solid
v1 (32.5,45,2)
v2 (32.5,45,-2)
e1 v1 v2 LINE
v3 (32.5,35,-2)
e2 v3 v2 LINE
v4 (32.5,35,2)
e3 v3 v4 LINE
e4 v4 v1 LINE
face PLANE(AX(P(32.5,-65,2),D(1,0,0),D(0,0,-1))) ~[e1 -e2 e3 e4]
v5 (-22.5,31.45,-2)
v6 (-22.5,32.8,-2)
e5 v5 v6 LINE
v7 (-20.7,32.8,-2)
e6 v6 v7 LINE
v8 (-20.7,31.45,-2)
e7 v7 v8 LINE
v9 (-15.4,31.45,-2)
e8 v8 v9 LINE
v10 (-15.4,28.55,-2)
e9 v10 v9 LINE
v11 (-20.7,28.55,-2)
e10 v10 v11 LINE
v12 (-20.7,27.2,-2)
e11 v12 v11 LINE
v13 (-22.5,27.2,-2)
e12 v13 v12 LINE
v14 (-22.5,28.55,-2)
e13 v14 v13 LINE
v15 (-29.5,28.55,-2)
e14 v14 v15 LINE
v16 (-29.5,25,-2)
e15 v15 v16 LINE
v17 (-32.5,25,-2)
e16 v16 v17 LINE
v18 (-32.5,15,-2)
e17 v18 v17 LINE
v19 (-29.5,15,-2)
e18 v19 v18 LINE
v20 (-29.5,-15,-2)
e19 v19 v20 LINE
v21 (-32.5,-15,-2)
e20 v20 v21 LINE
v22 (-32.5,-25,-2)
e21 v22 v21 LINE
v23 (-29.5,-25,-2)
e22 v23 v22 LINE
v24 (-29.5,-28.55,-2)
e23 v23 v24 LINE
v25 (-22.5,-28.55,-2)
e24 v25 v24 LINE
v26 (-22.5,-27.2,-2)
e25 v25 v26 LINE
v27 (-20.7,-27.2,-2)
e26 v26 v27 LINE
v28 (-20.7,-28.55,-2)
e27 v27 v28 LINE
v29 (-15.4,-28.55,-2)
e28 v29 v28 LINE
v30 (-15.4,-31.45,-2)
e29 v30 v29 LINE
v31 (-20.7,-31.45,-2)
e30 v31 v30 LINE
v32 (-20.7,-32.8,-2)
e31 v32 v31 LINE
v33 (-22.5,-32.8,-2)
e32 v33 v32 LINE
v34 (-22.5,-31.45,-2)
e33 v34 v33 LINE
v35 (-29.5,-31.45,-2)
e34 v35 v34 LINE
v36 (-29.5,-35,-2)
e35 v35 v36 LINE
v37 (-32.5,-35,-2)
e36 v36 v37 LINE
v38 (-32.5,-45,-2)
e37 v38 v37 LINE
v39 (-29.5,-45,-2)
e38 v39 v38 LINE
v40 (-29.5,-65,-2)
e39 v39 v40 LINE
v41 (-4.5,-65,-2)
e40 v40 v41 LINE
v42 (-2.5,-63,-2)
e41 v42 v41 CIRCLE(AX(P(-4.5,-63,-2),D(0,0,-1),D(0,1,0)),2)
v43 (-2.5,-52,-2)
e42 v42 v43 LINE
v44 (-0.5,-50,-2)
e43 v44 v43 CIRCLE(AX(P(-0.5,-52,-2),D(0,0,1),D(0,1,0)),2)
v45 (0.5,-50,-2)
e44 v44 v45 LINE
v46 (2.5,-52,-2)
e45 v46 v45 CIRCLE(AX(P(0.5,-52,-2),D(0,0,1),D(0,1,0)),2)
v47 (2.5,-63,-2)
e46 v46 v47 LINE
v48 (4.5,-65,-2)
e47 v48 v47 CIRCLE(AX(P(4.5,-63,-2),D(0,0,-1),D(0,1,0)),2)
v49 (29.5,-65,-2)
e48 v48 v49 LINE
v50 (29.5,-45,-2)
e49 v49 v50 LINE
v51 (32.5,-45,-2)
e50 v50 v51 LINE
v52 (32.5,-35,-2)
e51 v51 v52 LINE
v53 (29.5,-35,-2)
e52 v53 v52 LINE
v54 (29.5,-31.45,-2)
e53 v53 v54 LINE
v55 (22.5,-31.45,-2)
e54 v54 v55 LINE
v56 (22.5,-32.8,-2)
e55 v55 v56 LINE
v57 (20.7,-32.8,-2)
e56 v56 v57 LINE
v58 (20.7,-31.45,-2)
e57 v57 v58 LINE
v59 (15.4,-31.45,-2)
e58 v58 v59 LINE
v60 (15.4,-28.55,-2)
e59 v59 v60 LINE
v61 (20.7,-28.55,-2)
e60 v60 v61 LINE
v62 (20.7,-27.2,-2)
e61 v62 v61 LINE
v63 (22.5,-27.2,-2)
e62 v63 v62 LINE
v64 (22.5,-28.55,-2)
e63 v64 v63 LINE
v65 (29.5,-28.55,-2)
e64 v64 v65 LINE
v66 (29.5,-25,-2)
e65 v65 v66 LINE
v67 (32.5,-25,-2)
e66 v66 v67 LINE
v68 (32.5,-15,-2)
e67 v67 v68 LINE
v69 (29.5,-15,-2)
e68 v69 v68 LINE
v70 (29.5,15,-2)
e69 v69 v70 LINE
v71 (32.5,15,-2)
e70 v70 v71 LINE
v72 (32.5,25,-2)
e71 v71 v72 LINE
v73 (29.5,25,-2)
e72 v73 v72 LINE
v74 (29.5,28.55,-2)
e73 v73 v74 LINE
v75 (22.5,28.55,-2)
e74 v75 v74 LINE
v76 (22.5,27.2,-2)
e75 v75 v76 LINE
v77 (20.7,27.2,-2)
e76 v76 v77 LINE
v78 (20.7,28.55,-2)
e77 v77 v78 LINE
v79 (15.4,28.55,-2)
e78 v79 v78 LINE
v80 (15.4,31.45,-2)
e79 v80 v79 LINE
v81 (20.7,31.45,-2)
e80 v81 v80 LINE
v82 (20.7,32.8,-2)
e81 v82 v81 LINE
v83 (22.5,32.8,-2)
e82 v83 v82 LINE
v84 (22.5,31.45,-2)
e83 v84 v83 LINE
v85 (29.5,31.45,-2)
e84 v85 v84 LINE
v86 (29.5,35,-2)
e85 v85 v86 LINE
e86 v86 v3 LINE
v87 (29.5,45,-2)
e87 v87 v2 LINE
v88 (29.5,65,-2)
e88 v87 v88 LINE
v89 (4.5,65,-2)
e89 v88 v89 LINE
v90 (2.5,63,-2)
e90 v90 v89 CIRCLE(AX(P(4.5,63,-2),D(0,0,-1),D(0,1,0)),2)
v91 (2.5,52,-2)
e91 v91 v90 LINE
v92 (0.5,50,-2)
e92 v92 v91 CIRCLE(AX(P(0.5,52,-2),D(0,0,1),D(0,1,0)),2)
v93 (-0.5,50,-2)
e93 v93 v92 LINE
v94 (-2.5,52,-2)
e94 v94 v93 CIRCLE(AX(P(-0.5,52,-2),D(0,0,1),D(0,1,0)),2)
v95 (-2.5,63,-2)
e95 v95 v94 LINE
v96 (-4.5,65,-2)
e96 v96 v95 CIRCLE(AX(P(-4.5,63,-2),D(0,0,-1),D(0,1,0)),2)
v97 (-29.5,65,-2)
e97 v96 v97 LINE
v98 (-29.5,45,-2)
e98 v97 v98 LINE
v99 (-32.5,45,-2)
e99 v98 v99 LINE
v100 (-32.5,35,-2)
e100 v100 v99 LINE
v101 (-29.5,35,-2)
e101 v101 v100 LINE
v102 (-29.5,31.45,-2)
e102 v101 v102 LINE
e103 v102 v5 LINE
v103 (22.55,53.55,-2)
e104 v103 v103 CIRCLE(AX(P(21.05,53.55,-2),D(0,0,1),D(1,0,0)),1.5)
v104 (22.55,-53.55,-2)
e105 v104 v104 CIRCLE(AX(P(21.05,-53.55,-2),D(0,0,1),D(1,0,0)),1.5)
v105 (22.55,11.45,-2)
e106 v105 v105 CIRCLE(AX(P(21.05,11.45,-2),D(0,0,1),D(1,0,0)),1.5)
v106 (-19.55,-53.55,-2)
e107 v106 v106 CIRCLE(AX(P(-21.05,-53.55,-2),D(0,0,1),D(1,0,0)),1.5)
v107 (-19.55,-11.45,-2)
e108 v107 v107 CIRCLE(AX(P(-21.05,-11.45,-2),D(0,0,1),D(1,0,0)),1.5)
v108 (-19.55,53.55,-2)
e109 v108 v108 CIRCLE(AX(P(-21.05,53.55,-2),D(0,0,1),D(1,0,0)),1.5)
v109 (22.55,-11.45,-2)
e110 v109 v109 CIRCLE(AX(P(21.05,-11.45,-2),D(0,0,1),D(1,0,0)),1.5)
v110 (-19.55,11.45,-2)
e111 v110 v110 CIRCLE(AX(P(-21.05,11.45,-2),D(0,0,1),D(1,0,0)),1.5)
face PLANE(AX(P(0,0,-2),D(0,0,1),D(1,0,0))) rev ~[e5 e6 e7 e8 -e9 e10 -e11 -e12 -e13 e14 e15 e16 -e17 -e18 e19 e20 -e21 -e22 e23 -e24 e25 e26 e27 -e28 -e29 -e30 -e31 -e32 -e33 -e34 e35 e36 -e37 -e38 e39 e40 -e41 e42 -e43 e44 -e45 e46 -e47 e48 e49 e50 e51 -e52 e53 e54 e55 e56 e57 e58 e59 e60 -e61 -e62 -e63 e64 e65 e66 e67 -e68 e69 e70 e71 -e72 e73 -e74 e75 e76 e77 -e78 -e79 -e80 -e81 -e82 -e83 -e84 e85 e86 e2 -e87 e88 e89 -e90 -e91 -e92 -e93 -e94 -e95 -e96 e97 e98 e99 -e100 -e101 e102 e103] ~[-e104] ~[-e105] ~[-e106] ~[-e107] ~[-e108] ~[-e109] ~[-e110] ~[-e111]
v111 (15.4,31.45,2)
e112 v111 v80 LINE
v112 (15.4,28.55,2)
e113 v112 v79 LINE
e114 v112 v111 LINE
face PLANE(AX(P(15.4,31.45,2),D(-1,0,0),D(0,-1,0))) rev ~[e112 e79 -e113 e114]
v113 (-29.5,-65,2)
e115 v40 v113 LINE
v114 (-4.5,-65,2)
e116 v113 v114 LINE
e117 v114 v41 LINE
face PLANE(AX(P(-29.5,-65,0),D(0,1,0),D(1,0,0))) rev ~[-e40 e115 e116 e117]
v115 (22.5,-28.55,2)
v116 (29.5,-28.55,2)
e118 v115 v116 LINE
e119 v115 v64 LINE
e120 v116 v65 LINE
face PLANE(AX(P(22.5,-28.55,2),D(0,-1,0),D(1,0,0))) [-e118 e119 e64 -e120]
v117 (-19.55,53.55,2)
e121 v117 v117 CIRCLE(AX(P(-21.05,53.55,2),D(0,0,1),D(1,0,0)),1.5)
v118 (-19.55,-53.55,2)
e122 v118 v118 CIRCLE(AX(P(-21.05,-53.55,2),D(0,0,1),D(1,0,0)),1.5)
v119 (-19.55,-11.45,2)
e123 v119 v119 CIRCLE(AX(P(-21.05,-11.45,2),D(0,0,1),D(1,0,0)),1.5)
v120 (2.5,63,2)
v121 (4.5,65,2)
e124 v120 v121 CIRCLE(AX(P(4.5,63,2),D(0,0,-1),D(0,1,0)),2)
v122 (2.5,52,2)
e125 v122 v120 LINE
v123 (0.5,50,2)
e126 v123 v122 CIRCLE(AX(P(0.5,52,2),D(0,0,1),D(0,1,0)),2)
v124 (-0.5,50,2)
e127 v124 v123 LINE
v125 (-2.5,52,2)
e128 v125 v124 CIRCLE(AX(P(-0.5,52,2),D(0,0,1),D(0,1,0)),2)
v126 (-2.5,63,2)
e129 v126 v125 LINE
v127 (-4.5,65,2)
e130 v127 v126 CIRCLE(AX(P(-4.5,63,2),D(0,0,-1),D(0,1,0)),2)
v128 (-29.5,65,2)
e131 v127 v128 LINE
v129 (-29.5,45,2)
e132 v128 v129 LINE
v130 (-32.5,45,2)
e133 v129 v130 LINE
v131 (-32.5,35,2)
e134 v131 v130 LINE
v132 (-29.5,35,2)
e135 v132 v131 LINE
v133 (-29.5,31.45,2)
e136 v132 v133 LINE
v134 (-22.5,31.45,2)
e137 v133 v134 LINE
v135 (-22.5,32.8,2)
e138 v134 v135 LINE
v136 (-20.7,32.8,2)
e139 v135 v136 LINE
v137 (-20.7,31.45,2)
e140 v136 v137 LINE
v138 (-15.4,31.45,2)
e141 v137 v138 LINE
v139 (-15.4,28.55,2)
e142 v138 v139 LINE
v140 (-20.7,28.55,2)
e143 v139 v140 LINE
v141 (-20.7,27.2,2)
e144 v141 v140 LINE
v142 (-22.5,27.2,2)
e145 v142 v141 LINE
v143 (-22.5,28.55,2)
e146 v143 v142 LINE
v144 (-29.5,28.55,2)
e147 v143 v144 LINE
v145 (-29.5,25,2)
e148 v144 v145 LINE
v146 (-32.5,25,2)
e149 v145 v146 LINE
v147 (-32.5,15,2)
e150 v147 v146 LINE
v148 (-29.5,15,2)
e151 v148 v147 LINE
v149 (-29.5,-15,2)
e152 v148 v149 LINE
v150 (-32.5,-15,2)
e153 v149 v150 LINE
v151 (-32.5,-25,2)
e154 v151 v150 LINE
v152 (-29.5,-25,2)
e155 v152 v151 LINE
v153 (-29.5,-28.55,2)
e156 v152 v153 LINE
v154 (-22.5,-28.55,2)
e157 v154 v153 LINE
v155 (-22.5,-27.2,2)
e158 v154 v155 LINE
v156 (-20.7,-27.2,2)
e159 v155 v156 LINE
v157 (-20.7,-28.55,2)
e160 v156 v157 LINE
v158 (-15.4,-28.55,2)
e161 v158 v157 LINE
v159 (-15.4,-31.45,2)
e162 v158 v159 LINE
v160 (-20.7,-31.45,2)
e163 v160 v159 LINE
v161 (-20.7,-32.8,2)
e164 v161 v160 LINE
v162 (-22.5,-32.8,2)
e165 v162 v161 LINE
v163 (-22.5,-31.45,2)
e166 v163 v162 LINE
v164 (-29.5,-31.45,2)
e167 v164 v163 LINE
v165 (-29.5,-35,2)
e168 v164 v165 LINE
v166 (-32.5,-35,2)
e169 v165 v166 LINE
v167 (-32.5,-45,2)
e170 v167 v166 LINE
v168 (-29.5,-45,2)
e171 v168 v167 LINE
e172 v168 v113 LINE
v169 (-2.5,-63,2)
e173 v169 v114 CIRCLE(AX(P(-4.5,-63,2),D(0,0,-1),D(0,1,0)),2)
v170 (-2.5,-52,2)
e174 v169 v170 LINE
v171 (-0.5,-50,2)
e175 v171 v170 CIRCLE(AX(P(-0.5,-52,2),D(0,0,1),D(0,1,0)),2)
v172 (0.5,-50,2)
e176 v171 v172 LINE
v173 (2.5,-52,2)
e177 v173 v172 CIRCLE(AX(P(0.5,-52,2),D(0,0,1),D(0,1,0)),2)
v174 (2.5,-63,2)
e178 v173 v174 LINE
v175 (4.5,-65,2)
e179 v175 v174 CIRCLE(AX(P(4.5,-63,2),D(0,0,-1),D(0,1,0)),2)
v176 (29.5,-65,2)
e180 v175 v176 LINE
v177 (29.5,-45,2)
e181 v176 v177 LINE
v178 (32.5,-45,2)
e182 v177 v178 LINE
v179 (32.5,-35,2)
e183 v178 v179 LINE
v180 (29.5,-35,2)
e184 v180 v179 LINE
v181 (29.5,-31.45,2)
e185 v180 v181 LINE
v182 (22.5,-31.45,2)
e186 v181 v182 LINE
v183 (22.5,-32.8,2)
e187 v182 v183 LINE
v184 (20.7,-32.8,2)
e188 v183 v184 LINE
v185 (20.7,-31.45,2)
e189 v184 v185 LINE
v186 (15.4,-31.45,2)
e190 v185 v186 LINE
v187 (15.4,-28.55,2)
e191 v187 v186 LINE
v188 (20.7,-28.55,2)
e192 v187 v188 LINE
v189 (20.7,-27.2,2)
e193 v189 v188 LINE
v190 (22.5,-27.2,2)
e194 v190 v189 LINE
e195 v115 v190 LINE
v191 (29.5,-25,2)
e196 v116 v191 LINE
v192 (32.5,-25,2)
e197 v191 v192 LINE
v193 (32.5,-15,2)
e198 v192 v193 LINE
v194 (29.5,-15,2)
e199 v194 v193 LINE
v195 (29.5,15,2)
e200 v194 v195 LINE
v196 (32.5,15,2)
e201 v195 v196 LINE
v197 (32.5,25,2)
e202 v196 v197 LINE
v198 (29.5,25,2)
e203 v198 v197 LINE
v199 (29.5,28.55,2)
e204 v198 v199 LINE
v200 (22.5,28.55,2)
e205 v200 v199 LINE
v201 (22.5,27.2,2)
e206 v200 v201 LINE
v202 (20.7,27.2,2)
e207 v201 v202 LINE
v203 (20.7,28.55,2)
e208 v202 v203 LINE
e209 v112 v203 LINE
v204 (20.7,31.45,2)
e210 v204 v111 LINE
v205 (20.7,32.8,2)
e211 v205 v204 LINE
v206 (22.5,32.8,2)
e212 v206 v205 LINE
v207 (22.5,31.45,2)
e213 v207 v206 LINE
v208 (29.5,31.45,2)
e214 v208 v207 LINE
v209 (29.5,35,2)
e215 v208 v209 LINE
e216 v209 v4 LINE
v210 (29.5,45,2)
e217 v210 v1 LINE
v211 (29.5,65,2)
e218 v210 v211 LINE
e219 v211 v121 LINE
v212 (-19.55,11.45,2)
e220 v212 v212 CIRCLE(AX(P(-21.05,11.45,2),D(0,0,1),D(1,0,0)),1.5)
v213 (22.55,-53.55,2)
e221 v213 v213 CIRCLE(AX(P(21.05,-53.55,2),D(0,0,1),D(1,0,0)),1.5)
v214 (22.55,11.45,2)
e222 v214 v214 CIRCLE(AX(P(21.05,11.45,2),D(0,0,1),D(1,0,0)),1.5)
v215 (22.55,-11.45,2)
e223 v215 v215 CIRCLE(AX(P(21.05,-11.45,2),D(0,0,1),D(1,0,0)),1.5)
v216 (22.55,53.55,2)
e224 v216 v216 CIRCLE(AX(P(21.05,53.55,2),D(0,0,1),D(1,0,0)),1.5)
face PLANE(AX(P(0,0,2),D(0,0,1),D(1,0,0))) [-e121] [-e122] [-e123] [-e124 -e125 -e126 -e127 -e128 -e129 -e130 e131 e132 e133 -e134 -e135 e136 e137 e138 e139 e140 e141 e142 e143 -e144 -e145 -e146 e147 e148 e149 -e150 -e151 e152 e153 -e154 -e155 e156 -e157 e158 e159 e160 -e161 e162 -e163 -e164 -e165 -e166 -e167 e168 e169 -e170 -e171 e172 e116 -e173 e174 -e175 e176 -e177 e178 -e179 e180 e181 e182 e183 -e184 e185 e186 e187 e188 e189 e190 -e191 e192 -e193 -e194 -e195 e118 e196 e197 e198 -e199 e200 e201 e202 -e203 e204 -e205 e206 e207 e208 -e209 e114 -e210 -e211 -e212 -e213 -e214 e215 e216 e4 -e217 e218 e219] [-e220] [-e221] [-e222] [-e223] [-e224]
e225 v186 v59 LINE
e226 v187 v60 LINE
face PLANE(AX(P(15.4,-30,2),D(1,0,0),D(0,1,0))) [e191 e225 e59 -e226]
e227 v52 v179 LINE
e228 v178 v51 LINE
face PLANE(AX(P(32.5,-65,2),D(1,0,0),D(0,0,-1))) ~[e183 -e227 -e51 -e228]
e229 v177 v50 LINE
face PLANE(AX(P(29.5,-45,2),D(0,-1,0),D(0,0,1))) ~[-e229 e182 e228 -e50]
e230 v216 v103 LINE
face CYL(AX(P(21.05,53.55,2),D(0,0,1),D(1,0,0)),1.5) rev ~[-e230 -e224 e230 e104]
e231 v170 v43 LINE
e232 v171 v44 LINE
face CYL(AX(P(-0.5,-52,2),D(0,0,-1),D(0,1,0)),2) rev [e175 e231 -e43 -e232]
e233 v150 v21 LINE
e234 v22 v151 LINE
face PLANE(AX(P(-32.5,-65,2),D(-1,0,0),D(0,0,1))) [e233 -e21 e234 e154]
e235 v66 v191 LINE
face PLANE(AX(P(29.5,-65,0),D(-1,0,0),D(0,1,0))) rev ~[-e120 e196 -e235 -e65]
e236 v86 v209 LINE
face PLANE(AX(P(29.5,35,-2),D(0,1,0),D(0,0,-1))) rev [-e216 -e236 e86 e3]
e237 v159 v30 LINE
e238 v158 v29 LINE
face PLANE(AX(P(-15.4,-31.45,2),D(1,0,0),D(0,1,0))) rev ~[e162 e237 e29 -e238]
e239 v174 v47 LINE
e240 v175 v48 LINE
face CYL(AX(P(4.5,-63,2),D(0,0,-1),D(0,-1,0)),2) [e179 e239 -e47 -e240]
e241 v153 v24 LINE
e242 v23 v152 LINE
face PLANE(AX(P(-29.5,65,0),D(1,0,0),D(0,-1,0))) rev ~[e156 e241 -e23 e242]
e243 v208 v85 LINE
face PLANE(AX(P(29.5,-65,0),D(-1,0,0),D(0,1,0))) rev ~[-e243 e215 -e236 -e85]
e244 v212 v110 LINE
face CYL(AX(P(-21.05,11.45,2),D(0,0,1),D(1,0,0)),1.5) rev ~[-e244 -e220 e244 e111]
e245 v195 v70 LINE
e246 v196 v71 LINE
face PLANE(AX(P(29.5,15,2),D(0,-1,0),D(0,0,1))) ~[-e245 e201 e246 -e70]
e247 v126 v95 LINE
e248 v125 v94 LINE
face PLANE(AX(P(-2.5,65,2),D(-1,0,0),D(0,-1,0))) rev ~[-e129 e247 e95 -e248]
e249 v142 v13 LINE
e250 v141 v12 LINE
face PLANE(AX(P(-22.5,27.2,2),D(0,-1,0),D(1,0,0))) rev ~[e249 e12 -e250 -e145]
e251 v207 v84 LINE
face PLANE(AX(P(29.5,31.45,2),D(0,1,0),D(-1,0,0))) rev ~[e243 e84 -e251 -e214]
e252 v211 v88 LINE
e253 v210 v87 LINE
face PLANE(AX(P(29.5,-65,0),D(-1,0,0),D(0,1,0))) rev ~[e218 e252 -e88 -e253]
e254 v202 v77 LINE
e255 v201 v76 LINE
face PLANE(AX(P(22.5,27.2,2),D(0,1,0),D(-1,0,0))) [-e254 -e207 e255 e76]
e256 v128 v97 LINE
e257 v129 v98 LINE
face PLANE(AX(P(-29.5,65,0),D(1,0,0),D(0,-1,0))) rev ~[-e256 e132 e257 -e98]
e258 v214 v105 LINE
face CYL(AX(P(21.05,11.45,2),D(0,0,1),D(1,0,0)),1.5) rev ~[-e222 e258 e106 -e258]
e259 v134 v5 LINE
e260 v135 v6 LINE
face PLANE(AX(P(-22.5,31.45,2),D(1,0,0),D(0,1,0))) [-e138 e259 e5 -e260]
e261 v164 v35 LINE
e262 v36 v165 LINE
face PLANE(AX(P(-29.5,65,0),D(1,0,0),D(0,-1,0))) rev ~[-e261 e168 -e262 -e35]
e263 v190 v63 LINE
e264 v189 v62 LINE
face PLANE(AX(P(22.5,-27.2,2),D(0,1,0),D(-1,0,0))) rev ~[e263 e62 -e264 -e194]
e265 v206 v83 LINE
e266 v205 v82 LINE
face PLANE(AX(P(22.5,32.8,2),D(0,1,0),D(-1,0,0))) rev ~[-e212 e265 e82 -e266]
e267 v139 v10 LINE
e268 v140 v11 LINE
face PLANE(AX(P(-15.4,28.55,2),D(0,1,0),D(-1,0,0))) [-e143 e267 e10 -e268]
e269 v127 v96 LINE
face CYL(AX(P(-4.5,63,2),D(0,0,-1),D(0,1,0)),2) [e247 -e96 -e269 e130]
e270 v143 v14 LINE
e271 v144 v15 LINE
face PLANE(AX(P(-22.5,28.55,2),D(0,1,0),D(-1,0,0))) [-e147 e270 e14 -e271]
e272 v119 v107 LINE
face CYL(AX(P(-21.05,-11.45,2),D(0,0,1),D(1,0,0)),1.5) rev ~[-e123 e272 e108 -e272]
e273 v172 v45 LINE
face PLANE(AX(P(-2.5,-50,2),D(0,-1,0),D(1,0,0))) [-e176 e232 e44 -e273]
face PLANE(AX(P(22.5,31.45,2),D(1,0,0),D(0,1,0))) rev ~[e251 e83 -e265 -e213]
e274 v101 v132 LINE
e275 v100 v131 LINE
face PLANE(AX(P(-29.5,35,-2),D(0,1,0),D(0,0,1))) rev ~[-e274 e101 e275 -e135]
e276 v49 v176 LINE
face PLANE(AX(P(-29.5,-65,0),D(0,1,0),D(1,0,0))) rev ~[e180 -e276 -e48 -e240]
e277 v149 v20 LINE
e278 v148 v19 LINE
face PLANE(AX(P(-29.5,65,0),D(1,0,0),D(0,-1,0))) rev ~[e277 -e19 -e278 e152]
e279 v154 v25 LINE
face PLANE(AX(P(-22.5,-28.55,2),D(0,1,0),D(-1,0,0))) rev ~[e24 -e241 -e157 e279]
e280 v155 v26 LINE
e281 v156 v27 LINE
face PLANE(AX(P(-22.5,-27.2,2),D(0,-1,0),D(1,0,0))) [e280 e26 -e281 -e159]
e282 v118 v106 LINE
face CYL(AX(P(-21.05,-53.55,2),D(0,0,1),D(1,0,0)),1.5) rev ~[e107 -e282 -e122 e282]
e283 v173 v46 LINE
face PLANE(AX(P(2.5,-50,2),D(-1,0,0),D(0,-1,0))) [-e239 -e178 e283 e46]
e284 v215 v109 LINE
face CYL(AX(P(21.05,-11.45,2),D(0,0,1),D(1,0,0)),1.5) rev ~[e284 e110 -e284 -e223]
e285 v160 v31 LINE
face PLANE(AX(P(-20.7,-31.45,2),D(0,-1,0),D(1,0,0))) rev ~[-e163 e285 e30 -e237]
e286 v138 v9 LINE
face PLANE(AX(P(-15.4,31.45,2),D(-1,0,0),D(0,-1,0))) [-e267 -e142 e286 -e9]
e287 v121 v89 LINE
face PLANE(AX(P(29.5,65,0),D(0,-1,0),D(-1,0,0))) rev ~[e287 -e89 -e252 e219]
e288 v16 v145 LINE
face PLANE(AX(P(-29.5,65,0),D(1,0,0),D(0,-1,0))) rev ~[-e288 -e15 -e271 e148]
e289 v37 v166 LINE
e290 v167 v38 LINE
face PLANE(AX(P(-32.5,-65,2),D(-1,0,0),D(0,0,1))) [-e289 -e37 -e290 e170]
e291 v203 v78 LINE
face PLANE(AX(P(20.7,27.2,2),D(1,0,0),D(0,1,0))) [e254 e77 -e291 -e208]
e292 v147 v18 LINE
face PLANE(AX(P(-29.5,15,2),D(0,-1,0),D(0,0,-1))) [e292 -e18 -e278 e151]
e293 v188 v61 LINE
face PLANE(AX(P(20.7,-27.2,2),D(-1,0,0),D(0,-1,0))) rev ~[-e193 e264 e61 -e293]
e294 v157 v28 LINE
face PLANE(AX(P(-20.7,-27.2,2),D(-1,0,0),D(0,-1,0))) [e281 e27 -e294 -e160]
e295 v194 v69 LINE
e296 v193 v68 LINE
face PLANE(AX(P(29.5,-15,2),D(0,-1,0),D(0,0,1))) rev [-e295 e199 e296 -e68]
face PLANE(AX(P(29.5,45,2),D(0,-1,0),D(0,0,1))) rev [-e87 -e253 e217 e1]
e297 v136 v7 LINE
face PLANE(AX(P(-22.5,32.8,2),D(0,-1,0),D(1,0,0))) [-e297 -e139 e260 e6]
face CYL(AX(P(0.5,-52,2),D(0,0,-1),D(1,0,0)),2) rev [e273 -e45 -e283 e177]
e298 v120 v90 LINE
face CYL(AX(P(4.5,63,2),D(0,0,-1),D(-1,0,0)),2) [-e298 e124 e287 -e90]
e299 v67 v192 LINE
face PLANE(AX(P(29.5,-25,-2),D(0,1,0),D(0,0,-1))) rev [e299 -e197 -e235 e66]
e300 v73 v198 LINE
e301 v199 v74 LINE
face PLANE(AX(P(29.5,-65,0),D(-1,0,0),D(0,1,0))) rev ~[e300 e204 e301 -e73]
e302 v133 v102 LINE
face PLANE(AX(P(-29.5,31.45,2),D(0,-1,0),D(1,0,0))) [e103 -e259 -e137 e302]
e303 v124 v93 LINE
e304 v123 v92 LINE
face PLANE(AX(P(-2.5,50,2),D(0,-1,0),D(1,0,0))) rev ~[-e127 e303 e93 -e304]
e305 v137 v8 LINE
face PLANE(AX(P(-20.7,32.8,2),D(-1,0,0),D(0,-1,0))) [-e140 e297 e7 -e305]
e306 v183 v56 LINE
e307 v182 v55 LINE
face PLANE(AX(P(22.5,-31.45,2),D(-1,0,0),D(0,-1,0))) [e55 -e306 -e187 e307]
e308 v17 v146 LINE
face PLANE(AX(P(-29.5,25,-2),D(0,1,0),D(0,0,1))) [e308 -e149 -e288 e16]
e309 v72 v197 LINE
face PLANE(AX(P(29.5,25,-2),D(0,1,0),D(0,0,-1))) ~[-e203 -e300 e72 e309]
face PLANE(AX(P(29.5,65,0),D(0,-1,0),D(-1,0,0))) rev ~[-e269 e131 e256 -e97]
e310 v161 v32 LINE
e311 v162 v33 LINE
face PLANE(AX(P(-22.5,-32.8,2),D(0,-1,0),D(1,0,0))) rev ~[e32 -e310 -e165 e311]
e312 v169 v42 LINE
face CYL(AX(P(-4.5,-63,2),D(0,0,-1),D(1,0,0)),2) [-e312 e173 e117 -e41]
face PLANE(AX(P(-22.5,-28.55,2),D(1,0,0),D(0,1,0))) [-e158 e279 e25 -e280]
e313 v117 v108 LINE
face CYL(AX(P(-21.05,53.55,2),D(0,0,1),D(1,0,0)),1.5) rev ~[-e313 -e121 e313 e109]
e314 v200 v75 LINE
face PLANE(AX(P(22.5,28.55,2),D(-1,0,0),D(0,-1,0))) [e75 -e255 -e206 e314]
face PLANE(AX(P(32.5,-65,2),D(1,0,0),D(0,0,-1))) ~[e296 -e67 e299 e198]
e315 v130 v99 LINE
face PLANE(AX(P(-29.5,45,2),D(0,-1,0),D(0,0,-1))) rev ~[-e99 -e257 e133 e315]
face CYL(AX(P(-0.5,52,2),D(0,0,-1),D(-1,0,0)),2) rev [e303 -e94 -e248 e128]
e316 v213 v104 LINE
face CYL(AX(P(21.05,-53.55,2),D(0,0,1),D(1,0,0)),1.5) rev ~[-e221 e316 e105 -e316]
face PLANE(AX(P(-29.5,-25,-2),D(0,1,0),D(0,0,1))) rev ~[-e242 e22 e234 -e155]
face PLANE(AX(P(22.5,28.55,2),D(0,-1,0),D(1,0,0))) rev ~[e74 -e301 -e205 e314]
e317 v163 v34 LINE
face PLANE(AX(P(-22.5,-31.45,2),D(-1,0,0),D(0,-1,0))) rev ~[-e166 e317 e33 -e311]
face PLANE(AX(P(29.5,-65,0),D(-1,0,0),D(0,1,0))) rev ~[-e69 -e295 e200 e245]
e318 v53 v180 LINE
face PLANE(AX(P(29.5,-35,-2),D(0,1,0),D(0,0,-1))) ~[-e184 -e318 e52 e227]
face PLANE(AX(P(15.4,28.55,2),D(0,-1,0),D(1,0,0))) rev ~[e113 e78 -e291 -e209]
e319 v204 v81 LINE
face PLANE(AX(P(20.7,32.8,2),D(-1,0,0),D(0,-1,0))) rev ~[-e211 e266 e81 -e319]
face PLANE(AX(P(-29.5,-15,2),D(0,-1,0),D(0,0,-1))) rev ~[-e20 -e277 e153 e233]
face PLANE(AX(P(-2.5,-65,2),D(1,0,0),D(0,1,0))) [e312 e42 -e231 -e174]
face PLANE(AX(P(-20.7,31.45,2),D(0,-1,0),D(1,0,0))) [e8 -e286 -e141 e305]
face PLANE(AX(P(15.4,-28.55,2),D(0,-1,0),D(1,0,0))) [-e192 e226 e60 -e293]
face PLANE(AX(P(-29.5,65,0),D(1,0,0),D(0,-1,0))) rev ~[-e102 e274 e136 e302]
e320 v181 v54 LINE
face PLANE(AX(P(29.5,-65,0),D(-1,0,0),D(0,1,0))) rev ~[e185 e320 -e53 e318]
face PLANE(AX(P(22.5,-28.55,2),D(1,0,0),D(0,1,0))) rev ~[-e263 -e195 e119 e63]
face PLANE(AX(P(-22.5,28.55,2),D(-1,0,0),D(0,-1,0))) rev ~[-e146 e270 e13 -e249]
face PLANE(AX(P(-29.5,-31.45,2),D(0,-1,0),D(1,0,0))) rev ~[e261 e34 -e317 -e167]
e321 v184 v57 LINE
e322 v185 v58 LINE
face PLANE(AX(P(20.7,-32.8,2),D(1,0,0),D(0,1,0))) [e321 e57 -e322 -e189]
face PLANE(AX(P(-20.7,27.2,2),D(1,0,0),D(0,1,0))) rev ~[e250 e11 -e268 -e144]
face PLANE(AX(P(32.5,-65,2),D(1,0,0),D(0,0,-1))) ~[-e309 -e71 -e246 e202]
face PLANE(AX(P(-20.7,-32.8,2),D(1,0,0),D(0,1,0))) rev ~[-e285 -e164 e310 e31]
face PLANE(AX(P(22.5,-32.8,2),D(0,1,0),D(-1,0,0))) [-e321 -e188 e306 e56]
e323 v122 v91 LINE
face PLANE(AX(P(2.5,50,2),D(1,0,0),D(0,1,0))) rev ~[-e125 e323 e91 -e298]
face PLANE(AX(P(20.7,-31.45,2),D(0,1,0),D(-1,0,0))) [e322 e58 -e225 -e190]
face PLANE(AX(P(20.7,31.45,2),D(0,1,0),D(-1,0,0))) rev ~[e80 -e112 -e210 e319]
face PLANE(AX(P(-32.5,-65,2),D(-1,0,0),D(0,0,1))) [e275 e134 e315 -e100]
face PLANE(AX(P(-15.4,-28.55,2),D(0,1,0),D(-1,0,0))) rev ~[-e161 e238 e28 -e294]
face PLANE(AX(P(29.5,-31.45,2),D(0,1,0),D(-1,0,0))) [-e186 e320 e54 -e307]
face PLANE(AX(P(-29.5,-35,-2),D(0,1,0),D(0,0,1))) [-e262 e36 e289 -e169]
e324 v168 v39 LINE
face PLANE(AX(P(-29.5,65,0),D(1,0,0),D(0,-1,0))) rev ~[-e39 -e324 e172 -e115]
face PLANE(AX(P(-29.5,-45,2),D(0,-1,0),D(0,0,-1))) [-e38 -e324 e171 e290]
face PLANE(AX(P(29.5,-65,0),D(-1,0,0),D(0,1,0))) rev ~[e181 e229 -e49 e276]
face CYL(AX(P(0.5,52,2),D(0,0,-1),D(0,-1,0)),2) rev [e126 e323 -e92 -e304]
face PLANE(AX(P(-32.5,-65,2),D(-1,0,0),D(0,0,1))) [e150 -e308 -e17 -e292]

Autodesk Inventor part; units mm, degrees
sketch "Эскиз1" plane through (0, 0, 0) normal (0, 0, 1) x (1, 0, 0)
  line L0 (-29.5, -65) -> (29.5, -65)
  line L1 (29.5, -65) -> (29.5, 65)
  line L2 (29.5, 65) -> (-29.5, 65)
  line L3 (-29.5, 65) -> (-29.5, -65)
  line L4 (-29.5, -65) -> (29.5, 65) construction
  line L5 (29.5, -65) -> (-29.5, 65) construction
  point P0 (0, 0)
  dimension "d0" = 59
  dimension "d1" = 130
extrude "Выдавливание1" add sketch "Эскиз1" along normal mid plane 4
sketch "Эскиз3" plane through (-29.5, -65, 2) normal (-1, 0, 0) x (0, 0, 1)
  line L0 (-4, 0) -> (-4, 130) projected
  line L1 (0, 0) -> (0, 130) projected
  line L2 (-4, 100) -> (0, 100)
  line L3 (0, 100) -> (0, 110)
  line L4 (0, 110) -> (-4, 110)
  line L5 (-4, 110) -> (-4, 100)
  line L6 (-4, 130) -> (0, 130) projected
  line L7 (-4, 90) -> (0, 90)
  line L8 (0, 90) -> (0, 80)
  line L9 (0, 80) -> (-4, 80)
  line L10 (-4, 80) -> (-4, 90)
  line L11 (-4, 65) -> (0, 65) construction
  line L12 (-4, 30) -> (0, 30)
  line L13 (0, 30) -> (0, 20)
  line L14 (0, 20) -> (-4, 20)
  line L15 (-4, 20) -> (-4, 30)
  line L16 (-4, 40) -> (0, 40)
  line L17 (0, 40) -> (0, 50)
  line L18 (0, 50) -> (-4, 50)
  line L19 (-4, 50) -> (-4, 40)
  point P0 (-2, 65)
  point P1 (0, 30)
  point P2 (0, 40)
  point P3 (0, 90)
  point P4 (0, 100)
  dimension "d18" = 10
  dimension "d19" = 10
  dimension "d20" = 20
  dimension "d21" = 10
extrude "Выдавливание3" add sketch "Эскиз3" along normal blind 3 contours L0 L12 L1 L14 | L0 L18 L1 L16 | L0 L7 L1 L9 | L0 L4 L1 L2
mirror "Зеркальное отражение2" about plane through (0, 0, 0) normal (1, 0, 0) of "Выдавливание3"
sketch "Эскиз4" plane through (0, 0, 2) normal (0, 0, 1) x (1, 0, 0)
  line L0 (-15.4, 31.45) -> (-15.4, 28.55)
  line L1 (-29.5, 28.55) -> (-29.5, 31.45)
  line L2 (-22.5, 32.8) -> (-20.7, 32.8)
  line L3 (-22.5, 27.2) -> (-20.7, 27.2)
  line L4 (-29.5, 30) -> (-15.4, 30)
  line L5 (-20.7, 27.2) -> (-20.7, 28.55)
  line L6 (-22.5, 31.45) -> (-22.5, 32.8)
  line L7 (-20.7, 32.8) -> (-20.7, 31.45)
  line L8 (-22.5, 28.55) -> (-22.5, 27.2)
  line L9 (-29.5, 31.45) -> (-22.5, 31.45)
  line L10 (-20.7, 31.45) -> (-15.4, 31.45)
  line L11 (-15.4, 28.55) -> (-20.7, 28.55)
  line L12 (-22.5, 28.55) -> (-29.5, 28.55)
  line L13 (-29.5, 35) -> (-29.5, 25) projected
  line L14 (0, 3.054) -> (0, -3.054) construction
  line L15 (-15.3649, 0) -> (15.3649, 0)
  line L16 (-15.4, -31.45) -> (-15.4, -28.55)
  line L17 (-29.5, -28.55) -> (-29.5, -31.45)
  line L18 (-22.5, -32.8) -> (-20.7, -32.8)
  line L19 (-22.5, -27.2) -> (-20.7, -27.2)
  line L20 (-29.5, -30) -> (-15.4, -30)
  line L21 (-20.7, -27.2) -> (-20.7, -28.55)
  line L22 (-22.5, -31.45) -> (-22.5, -32.8)
  line L23 (-20.7, -32.8) -> (-20.7, -31.45)
  line L24 (-22.5, -28.55) -> (-22.5, -27.2)
  line L25 (-29.5, -31.45) -> (-22.5, -31.45)
  line L26 (-20.7, -31.45) -> (-15.4, -31.45)
  line L27 (-15.4, -28.55) -> (-20.7, -28.55)
  line L28 (-22.5, -28.55) -> (-29.5, -28.55)
  line L29 (-29.5, -35) -> (-29.5, -25)
  line L30 (0, -3.054) -> (0, 3.054) construction
  line L31 (15.4, 31.45) -> (15.4, 28.55)
  line L32 (29.5, 28.55) -> (29.5, 31.45)
  line L33 (22.5, 32.8) -> (20.7, 32.8)
  line L34 (22.5, 27.2) -> (20.7, 27.2)
  line L35 (29.5, 30) -> (15.4, 30)
  line L36 (20.7, 27.2) -> (20.7, 28.55)
  line L37 (22.5, 31.45) -> (22.5, 32.8)
  line L38 (20.7, 32.8) -> (20.7, 31.45)
  line L39 (22.5, 28.55) -> (22.5, 27.2)
  line L40 (29.5, 31.45) -> (22.5, 31.45)
  line L41 (20.7, 31.45) -> (15.4, 31.45)
  line L42 (15.4, 28.55) -> (20.7, 28.55)
  line L43 (22.5, 28.55) -> (29.5, 28.55)
  line L44 (29.5, 35) -> (29.5, 25)
  line L45 (20.7, -27.2) -> (20.7, -28.55)
  line L46 (22.5, -27.2) -> (20.7, -27.2)
  line L47 (22.5, -28.55) -> (22.5, -27.2)
  line L48 (20.7, -31.45) -> (15.4, -31.45)
  line L49 (20.7, -32.8) -> (20.7, -31.45)
  line L50 (22.5, -32.8) -> (20.7, -32.8)
  line L51 (22.5, -31.45) -> (22.5, -32.8)
  line L52 (29.5, -30) -> (15.4, -30)
  line L53 (22.5, -28.55) -> (29.5, -28.55)
  line L54 (29.5, -28.55) -> (29.5, -31.45)
  line L55 (29.5, -31.45) -> (22.5, -31.45)
  line L56 (15.4, -31.45) -> (15.4, -28.55)
  line L57 (15.4, -28.55) -> (20.7, -28.55)
  point P0 (0, 0)
  point P1 (0, 0)
  point P2 (29.5, -25)
  dimension "d26" = 2.9
  dimension "d31" = 1.8
  dimension "d32" = 1.35
  dimension "d33" = 7
  dimension "d34" = 5.3
  dimension "d35" = 2.9
extrude "Выдавливание4" cut sketch "Эскиз4" against normal up to surface (4 mm away)
sketch "Эскиз5" plane through (0, 0, 2) normal (0, 0, 1) x (1, 0, 0)
  line L0 (29.5, 65) -> (-29.5, 65) construction
  line L1 (2.5, 65) -> (-2.5, 65)
  line L2 (-2.5, 65) -> (-2.5, 50)
  line L3 (-2.5, 50) -> (2.5, 50)
  line L4 (2.5, 50) -> (2.5, 65)
  line L5 (-2.9793, 0) -> (2.9793, 0) construction
  line L6 (29.5, -65) -> (-29.5, -65) construction
  line L7 (-2.5, -65) -> (-2.5, -50)
  line L8 (-2.5, -50) -> (2.5, -50)
  line L9 (2.5, -50) -> (2.5, -65)
  line L10 (-2.5, -65) -> (2.5, -65)
  line L11 (-29.5, -65) -> (29.5, -65) projected
  point P0 (0, 0)
  point P1 (0, 65)
  point P2 (0, 0)
  dimension "d38" = 5
  dimension "d39" = 15
extrude "Выдавливание5" cut sketch "Эскиз5" against normal up to surface (4 mm away)
fillet "Сопряжение1" radius 2 8 edges at (2.5, 50, 0) (-2.5, 50, 0) (-2.5, -50, 0) (2.5, -50, 0) (2.5, 65, 0) (-2.5, 65, 0) (2.5, -65, 0) (-2.5, -65, 0)
sketch "Эскиз8" plane through (0, 0, 2) normal (0, 0, 1) x (1, 0, 0)
  circle A0 centre (-21.05, 11.45) radius 1.5
  circle A1 centre (21.05, 11.45) radius 1.5
  circle A2 centre (-21.05, 53.55) radius 1.5
  circle A3 centre (21.05, 53.55) radius 1.5
  circle A4 centre (21.05, -11.45) radius 1.5
  circle A5 centre (-21.05, -11.45) radius 1.5
  circle A6 centre (-21.05, -53.55) radius 1.5
  circle A7 centre (21.05, -53.55) radius 1.5
  point P0 (0, 0)
extrude "Выдавливание8" cut sketch "Эскиз8" against normal up to surface (4 mm away)
properties part number "Фанерка ерпления колонок"
